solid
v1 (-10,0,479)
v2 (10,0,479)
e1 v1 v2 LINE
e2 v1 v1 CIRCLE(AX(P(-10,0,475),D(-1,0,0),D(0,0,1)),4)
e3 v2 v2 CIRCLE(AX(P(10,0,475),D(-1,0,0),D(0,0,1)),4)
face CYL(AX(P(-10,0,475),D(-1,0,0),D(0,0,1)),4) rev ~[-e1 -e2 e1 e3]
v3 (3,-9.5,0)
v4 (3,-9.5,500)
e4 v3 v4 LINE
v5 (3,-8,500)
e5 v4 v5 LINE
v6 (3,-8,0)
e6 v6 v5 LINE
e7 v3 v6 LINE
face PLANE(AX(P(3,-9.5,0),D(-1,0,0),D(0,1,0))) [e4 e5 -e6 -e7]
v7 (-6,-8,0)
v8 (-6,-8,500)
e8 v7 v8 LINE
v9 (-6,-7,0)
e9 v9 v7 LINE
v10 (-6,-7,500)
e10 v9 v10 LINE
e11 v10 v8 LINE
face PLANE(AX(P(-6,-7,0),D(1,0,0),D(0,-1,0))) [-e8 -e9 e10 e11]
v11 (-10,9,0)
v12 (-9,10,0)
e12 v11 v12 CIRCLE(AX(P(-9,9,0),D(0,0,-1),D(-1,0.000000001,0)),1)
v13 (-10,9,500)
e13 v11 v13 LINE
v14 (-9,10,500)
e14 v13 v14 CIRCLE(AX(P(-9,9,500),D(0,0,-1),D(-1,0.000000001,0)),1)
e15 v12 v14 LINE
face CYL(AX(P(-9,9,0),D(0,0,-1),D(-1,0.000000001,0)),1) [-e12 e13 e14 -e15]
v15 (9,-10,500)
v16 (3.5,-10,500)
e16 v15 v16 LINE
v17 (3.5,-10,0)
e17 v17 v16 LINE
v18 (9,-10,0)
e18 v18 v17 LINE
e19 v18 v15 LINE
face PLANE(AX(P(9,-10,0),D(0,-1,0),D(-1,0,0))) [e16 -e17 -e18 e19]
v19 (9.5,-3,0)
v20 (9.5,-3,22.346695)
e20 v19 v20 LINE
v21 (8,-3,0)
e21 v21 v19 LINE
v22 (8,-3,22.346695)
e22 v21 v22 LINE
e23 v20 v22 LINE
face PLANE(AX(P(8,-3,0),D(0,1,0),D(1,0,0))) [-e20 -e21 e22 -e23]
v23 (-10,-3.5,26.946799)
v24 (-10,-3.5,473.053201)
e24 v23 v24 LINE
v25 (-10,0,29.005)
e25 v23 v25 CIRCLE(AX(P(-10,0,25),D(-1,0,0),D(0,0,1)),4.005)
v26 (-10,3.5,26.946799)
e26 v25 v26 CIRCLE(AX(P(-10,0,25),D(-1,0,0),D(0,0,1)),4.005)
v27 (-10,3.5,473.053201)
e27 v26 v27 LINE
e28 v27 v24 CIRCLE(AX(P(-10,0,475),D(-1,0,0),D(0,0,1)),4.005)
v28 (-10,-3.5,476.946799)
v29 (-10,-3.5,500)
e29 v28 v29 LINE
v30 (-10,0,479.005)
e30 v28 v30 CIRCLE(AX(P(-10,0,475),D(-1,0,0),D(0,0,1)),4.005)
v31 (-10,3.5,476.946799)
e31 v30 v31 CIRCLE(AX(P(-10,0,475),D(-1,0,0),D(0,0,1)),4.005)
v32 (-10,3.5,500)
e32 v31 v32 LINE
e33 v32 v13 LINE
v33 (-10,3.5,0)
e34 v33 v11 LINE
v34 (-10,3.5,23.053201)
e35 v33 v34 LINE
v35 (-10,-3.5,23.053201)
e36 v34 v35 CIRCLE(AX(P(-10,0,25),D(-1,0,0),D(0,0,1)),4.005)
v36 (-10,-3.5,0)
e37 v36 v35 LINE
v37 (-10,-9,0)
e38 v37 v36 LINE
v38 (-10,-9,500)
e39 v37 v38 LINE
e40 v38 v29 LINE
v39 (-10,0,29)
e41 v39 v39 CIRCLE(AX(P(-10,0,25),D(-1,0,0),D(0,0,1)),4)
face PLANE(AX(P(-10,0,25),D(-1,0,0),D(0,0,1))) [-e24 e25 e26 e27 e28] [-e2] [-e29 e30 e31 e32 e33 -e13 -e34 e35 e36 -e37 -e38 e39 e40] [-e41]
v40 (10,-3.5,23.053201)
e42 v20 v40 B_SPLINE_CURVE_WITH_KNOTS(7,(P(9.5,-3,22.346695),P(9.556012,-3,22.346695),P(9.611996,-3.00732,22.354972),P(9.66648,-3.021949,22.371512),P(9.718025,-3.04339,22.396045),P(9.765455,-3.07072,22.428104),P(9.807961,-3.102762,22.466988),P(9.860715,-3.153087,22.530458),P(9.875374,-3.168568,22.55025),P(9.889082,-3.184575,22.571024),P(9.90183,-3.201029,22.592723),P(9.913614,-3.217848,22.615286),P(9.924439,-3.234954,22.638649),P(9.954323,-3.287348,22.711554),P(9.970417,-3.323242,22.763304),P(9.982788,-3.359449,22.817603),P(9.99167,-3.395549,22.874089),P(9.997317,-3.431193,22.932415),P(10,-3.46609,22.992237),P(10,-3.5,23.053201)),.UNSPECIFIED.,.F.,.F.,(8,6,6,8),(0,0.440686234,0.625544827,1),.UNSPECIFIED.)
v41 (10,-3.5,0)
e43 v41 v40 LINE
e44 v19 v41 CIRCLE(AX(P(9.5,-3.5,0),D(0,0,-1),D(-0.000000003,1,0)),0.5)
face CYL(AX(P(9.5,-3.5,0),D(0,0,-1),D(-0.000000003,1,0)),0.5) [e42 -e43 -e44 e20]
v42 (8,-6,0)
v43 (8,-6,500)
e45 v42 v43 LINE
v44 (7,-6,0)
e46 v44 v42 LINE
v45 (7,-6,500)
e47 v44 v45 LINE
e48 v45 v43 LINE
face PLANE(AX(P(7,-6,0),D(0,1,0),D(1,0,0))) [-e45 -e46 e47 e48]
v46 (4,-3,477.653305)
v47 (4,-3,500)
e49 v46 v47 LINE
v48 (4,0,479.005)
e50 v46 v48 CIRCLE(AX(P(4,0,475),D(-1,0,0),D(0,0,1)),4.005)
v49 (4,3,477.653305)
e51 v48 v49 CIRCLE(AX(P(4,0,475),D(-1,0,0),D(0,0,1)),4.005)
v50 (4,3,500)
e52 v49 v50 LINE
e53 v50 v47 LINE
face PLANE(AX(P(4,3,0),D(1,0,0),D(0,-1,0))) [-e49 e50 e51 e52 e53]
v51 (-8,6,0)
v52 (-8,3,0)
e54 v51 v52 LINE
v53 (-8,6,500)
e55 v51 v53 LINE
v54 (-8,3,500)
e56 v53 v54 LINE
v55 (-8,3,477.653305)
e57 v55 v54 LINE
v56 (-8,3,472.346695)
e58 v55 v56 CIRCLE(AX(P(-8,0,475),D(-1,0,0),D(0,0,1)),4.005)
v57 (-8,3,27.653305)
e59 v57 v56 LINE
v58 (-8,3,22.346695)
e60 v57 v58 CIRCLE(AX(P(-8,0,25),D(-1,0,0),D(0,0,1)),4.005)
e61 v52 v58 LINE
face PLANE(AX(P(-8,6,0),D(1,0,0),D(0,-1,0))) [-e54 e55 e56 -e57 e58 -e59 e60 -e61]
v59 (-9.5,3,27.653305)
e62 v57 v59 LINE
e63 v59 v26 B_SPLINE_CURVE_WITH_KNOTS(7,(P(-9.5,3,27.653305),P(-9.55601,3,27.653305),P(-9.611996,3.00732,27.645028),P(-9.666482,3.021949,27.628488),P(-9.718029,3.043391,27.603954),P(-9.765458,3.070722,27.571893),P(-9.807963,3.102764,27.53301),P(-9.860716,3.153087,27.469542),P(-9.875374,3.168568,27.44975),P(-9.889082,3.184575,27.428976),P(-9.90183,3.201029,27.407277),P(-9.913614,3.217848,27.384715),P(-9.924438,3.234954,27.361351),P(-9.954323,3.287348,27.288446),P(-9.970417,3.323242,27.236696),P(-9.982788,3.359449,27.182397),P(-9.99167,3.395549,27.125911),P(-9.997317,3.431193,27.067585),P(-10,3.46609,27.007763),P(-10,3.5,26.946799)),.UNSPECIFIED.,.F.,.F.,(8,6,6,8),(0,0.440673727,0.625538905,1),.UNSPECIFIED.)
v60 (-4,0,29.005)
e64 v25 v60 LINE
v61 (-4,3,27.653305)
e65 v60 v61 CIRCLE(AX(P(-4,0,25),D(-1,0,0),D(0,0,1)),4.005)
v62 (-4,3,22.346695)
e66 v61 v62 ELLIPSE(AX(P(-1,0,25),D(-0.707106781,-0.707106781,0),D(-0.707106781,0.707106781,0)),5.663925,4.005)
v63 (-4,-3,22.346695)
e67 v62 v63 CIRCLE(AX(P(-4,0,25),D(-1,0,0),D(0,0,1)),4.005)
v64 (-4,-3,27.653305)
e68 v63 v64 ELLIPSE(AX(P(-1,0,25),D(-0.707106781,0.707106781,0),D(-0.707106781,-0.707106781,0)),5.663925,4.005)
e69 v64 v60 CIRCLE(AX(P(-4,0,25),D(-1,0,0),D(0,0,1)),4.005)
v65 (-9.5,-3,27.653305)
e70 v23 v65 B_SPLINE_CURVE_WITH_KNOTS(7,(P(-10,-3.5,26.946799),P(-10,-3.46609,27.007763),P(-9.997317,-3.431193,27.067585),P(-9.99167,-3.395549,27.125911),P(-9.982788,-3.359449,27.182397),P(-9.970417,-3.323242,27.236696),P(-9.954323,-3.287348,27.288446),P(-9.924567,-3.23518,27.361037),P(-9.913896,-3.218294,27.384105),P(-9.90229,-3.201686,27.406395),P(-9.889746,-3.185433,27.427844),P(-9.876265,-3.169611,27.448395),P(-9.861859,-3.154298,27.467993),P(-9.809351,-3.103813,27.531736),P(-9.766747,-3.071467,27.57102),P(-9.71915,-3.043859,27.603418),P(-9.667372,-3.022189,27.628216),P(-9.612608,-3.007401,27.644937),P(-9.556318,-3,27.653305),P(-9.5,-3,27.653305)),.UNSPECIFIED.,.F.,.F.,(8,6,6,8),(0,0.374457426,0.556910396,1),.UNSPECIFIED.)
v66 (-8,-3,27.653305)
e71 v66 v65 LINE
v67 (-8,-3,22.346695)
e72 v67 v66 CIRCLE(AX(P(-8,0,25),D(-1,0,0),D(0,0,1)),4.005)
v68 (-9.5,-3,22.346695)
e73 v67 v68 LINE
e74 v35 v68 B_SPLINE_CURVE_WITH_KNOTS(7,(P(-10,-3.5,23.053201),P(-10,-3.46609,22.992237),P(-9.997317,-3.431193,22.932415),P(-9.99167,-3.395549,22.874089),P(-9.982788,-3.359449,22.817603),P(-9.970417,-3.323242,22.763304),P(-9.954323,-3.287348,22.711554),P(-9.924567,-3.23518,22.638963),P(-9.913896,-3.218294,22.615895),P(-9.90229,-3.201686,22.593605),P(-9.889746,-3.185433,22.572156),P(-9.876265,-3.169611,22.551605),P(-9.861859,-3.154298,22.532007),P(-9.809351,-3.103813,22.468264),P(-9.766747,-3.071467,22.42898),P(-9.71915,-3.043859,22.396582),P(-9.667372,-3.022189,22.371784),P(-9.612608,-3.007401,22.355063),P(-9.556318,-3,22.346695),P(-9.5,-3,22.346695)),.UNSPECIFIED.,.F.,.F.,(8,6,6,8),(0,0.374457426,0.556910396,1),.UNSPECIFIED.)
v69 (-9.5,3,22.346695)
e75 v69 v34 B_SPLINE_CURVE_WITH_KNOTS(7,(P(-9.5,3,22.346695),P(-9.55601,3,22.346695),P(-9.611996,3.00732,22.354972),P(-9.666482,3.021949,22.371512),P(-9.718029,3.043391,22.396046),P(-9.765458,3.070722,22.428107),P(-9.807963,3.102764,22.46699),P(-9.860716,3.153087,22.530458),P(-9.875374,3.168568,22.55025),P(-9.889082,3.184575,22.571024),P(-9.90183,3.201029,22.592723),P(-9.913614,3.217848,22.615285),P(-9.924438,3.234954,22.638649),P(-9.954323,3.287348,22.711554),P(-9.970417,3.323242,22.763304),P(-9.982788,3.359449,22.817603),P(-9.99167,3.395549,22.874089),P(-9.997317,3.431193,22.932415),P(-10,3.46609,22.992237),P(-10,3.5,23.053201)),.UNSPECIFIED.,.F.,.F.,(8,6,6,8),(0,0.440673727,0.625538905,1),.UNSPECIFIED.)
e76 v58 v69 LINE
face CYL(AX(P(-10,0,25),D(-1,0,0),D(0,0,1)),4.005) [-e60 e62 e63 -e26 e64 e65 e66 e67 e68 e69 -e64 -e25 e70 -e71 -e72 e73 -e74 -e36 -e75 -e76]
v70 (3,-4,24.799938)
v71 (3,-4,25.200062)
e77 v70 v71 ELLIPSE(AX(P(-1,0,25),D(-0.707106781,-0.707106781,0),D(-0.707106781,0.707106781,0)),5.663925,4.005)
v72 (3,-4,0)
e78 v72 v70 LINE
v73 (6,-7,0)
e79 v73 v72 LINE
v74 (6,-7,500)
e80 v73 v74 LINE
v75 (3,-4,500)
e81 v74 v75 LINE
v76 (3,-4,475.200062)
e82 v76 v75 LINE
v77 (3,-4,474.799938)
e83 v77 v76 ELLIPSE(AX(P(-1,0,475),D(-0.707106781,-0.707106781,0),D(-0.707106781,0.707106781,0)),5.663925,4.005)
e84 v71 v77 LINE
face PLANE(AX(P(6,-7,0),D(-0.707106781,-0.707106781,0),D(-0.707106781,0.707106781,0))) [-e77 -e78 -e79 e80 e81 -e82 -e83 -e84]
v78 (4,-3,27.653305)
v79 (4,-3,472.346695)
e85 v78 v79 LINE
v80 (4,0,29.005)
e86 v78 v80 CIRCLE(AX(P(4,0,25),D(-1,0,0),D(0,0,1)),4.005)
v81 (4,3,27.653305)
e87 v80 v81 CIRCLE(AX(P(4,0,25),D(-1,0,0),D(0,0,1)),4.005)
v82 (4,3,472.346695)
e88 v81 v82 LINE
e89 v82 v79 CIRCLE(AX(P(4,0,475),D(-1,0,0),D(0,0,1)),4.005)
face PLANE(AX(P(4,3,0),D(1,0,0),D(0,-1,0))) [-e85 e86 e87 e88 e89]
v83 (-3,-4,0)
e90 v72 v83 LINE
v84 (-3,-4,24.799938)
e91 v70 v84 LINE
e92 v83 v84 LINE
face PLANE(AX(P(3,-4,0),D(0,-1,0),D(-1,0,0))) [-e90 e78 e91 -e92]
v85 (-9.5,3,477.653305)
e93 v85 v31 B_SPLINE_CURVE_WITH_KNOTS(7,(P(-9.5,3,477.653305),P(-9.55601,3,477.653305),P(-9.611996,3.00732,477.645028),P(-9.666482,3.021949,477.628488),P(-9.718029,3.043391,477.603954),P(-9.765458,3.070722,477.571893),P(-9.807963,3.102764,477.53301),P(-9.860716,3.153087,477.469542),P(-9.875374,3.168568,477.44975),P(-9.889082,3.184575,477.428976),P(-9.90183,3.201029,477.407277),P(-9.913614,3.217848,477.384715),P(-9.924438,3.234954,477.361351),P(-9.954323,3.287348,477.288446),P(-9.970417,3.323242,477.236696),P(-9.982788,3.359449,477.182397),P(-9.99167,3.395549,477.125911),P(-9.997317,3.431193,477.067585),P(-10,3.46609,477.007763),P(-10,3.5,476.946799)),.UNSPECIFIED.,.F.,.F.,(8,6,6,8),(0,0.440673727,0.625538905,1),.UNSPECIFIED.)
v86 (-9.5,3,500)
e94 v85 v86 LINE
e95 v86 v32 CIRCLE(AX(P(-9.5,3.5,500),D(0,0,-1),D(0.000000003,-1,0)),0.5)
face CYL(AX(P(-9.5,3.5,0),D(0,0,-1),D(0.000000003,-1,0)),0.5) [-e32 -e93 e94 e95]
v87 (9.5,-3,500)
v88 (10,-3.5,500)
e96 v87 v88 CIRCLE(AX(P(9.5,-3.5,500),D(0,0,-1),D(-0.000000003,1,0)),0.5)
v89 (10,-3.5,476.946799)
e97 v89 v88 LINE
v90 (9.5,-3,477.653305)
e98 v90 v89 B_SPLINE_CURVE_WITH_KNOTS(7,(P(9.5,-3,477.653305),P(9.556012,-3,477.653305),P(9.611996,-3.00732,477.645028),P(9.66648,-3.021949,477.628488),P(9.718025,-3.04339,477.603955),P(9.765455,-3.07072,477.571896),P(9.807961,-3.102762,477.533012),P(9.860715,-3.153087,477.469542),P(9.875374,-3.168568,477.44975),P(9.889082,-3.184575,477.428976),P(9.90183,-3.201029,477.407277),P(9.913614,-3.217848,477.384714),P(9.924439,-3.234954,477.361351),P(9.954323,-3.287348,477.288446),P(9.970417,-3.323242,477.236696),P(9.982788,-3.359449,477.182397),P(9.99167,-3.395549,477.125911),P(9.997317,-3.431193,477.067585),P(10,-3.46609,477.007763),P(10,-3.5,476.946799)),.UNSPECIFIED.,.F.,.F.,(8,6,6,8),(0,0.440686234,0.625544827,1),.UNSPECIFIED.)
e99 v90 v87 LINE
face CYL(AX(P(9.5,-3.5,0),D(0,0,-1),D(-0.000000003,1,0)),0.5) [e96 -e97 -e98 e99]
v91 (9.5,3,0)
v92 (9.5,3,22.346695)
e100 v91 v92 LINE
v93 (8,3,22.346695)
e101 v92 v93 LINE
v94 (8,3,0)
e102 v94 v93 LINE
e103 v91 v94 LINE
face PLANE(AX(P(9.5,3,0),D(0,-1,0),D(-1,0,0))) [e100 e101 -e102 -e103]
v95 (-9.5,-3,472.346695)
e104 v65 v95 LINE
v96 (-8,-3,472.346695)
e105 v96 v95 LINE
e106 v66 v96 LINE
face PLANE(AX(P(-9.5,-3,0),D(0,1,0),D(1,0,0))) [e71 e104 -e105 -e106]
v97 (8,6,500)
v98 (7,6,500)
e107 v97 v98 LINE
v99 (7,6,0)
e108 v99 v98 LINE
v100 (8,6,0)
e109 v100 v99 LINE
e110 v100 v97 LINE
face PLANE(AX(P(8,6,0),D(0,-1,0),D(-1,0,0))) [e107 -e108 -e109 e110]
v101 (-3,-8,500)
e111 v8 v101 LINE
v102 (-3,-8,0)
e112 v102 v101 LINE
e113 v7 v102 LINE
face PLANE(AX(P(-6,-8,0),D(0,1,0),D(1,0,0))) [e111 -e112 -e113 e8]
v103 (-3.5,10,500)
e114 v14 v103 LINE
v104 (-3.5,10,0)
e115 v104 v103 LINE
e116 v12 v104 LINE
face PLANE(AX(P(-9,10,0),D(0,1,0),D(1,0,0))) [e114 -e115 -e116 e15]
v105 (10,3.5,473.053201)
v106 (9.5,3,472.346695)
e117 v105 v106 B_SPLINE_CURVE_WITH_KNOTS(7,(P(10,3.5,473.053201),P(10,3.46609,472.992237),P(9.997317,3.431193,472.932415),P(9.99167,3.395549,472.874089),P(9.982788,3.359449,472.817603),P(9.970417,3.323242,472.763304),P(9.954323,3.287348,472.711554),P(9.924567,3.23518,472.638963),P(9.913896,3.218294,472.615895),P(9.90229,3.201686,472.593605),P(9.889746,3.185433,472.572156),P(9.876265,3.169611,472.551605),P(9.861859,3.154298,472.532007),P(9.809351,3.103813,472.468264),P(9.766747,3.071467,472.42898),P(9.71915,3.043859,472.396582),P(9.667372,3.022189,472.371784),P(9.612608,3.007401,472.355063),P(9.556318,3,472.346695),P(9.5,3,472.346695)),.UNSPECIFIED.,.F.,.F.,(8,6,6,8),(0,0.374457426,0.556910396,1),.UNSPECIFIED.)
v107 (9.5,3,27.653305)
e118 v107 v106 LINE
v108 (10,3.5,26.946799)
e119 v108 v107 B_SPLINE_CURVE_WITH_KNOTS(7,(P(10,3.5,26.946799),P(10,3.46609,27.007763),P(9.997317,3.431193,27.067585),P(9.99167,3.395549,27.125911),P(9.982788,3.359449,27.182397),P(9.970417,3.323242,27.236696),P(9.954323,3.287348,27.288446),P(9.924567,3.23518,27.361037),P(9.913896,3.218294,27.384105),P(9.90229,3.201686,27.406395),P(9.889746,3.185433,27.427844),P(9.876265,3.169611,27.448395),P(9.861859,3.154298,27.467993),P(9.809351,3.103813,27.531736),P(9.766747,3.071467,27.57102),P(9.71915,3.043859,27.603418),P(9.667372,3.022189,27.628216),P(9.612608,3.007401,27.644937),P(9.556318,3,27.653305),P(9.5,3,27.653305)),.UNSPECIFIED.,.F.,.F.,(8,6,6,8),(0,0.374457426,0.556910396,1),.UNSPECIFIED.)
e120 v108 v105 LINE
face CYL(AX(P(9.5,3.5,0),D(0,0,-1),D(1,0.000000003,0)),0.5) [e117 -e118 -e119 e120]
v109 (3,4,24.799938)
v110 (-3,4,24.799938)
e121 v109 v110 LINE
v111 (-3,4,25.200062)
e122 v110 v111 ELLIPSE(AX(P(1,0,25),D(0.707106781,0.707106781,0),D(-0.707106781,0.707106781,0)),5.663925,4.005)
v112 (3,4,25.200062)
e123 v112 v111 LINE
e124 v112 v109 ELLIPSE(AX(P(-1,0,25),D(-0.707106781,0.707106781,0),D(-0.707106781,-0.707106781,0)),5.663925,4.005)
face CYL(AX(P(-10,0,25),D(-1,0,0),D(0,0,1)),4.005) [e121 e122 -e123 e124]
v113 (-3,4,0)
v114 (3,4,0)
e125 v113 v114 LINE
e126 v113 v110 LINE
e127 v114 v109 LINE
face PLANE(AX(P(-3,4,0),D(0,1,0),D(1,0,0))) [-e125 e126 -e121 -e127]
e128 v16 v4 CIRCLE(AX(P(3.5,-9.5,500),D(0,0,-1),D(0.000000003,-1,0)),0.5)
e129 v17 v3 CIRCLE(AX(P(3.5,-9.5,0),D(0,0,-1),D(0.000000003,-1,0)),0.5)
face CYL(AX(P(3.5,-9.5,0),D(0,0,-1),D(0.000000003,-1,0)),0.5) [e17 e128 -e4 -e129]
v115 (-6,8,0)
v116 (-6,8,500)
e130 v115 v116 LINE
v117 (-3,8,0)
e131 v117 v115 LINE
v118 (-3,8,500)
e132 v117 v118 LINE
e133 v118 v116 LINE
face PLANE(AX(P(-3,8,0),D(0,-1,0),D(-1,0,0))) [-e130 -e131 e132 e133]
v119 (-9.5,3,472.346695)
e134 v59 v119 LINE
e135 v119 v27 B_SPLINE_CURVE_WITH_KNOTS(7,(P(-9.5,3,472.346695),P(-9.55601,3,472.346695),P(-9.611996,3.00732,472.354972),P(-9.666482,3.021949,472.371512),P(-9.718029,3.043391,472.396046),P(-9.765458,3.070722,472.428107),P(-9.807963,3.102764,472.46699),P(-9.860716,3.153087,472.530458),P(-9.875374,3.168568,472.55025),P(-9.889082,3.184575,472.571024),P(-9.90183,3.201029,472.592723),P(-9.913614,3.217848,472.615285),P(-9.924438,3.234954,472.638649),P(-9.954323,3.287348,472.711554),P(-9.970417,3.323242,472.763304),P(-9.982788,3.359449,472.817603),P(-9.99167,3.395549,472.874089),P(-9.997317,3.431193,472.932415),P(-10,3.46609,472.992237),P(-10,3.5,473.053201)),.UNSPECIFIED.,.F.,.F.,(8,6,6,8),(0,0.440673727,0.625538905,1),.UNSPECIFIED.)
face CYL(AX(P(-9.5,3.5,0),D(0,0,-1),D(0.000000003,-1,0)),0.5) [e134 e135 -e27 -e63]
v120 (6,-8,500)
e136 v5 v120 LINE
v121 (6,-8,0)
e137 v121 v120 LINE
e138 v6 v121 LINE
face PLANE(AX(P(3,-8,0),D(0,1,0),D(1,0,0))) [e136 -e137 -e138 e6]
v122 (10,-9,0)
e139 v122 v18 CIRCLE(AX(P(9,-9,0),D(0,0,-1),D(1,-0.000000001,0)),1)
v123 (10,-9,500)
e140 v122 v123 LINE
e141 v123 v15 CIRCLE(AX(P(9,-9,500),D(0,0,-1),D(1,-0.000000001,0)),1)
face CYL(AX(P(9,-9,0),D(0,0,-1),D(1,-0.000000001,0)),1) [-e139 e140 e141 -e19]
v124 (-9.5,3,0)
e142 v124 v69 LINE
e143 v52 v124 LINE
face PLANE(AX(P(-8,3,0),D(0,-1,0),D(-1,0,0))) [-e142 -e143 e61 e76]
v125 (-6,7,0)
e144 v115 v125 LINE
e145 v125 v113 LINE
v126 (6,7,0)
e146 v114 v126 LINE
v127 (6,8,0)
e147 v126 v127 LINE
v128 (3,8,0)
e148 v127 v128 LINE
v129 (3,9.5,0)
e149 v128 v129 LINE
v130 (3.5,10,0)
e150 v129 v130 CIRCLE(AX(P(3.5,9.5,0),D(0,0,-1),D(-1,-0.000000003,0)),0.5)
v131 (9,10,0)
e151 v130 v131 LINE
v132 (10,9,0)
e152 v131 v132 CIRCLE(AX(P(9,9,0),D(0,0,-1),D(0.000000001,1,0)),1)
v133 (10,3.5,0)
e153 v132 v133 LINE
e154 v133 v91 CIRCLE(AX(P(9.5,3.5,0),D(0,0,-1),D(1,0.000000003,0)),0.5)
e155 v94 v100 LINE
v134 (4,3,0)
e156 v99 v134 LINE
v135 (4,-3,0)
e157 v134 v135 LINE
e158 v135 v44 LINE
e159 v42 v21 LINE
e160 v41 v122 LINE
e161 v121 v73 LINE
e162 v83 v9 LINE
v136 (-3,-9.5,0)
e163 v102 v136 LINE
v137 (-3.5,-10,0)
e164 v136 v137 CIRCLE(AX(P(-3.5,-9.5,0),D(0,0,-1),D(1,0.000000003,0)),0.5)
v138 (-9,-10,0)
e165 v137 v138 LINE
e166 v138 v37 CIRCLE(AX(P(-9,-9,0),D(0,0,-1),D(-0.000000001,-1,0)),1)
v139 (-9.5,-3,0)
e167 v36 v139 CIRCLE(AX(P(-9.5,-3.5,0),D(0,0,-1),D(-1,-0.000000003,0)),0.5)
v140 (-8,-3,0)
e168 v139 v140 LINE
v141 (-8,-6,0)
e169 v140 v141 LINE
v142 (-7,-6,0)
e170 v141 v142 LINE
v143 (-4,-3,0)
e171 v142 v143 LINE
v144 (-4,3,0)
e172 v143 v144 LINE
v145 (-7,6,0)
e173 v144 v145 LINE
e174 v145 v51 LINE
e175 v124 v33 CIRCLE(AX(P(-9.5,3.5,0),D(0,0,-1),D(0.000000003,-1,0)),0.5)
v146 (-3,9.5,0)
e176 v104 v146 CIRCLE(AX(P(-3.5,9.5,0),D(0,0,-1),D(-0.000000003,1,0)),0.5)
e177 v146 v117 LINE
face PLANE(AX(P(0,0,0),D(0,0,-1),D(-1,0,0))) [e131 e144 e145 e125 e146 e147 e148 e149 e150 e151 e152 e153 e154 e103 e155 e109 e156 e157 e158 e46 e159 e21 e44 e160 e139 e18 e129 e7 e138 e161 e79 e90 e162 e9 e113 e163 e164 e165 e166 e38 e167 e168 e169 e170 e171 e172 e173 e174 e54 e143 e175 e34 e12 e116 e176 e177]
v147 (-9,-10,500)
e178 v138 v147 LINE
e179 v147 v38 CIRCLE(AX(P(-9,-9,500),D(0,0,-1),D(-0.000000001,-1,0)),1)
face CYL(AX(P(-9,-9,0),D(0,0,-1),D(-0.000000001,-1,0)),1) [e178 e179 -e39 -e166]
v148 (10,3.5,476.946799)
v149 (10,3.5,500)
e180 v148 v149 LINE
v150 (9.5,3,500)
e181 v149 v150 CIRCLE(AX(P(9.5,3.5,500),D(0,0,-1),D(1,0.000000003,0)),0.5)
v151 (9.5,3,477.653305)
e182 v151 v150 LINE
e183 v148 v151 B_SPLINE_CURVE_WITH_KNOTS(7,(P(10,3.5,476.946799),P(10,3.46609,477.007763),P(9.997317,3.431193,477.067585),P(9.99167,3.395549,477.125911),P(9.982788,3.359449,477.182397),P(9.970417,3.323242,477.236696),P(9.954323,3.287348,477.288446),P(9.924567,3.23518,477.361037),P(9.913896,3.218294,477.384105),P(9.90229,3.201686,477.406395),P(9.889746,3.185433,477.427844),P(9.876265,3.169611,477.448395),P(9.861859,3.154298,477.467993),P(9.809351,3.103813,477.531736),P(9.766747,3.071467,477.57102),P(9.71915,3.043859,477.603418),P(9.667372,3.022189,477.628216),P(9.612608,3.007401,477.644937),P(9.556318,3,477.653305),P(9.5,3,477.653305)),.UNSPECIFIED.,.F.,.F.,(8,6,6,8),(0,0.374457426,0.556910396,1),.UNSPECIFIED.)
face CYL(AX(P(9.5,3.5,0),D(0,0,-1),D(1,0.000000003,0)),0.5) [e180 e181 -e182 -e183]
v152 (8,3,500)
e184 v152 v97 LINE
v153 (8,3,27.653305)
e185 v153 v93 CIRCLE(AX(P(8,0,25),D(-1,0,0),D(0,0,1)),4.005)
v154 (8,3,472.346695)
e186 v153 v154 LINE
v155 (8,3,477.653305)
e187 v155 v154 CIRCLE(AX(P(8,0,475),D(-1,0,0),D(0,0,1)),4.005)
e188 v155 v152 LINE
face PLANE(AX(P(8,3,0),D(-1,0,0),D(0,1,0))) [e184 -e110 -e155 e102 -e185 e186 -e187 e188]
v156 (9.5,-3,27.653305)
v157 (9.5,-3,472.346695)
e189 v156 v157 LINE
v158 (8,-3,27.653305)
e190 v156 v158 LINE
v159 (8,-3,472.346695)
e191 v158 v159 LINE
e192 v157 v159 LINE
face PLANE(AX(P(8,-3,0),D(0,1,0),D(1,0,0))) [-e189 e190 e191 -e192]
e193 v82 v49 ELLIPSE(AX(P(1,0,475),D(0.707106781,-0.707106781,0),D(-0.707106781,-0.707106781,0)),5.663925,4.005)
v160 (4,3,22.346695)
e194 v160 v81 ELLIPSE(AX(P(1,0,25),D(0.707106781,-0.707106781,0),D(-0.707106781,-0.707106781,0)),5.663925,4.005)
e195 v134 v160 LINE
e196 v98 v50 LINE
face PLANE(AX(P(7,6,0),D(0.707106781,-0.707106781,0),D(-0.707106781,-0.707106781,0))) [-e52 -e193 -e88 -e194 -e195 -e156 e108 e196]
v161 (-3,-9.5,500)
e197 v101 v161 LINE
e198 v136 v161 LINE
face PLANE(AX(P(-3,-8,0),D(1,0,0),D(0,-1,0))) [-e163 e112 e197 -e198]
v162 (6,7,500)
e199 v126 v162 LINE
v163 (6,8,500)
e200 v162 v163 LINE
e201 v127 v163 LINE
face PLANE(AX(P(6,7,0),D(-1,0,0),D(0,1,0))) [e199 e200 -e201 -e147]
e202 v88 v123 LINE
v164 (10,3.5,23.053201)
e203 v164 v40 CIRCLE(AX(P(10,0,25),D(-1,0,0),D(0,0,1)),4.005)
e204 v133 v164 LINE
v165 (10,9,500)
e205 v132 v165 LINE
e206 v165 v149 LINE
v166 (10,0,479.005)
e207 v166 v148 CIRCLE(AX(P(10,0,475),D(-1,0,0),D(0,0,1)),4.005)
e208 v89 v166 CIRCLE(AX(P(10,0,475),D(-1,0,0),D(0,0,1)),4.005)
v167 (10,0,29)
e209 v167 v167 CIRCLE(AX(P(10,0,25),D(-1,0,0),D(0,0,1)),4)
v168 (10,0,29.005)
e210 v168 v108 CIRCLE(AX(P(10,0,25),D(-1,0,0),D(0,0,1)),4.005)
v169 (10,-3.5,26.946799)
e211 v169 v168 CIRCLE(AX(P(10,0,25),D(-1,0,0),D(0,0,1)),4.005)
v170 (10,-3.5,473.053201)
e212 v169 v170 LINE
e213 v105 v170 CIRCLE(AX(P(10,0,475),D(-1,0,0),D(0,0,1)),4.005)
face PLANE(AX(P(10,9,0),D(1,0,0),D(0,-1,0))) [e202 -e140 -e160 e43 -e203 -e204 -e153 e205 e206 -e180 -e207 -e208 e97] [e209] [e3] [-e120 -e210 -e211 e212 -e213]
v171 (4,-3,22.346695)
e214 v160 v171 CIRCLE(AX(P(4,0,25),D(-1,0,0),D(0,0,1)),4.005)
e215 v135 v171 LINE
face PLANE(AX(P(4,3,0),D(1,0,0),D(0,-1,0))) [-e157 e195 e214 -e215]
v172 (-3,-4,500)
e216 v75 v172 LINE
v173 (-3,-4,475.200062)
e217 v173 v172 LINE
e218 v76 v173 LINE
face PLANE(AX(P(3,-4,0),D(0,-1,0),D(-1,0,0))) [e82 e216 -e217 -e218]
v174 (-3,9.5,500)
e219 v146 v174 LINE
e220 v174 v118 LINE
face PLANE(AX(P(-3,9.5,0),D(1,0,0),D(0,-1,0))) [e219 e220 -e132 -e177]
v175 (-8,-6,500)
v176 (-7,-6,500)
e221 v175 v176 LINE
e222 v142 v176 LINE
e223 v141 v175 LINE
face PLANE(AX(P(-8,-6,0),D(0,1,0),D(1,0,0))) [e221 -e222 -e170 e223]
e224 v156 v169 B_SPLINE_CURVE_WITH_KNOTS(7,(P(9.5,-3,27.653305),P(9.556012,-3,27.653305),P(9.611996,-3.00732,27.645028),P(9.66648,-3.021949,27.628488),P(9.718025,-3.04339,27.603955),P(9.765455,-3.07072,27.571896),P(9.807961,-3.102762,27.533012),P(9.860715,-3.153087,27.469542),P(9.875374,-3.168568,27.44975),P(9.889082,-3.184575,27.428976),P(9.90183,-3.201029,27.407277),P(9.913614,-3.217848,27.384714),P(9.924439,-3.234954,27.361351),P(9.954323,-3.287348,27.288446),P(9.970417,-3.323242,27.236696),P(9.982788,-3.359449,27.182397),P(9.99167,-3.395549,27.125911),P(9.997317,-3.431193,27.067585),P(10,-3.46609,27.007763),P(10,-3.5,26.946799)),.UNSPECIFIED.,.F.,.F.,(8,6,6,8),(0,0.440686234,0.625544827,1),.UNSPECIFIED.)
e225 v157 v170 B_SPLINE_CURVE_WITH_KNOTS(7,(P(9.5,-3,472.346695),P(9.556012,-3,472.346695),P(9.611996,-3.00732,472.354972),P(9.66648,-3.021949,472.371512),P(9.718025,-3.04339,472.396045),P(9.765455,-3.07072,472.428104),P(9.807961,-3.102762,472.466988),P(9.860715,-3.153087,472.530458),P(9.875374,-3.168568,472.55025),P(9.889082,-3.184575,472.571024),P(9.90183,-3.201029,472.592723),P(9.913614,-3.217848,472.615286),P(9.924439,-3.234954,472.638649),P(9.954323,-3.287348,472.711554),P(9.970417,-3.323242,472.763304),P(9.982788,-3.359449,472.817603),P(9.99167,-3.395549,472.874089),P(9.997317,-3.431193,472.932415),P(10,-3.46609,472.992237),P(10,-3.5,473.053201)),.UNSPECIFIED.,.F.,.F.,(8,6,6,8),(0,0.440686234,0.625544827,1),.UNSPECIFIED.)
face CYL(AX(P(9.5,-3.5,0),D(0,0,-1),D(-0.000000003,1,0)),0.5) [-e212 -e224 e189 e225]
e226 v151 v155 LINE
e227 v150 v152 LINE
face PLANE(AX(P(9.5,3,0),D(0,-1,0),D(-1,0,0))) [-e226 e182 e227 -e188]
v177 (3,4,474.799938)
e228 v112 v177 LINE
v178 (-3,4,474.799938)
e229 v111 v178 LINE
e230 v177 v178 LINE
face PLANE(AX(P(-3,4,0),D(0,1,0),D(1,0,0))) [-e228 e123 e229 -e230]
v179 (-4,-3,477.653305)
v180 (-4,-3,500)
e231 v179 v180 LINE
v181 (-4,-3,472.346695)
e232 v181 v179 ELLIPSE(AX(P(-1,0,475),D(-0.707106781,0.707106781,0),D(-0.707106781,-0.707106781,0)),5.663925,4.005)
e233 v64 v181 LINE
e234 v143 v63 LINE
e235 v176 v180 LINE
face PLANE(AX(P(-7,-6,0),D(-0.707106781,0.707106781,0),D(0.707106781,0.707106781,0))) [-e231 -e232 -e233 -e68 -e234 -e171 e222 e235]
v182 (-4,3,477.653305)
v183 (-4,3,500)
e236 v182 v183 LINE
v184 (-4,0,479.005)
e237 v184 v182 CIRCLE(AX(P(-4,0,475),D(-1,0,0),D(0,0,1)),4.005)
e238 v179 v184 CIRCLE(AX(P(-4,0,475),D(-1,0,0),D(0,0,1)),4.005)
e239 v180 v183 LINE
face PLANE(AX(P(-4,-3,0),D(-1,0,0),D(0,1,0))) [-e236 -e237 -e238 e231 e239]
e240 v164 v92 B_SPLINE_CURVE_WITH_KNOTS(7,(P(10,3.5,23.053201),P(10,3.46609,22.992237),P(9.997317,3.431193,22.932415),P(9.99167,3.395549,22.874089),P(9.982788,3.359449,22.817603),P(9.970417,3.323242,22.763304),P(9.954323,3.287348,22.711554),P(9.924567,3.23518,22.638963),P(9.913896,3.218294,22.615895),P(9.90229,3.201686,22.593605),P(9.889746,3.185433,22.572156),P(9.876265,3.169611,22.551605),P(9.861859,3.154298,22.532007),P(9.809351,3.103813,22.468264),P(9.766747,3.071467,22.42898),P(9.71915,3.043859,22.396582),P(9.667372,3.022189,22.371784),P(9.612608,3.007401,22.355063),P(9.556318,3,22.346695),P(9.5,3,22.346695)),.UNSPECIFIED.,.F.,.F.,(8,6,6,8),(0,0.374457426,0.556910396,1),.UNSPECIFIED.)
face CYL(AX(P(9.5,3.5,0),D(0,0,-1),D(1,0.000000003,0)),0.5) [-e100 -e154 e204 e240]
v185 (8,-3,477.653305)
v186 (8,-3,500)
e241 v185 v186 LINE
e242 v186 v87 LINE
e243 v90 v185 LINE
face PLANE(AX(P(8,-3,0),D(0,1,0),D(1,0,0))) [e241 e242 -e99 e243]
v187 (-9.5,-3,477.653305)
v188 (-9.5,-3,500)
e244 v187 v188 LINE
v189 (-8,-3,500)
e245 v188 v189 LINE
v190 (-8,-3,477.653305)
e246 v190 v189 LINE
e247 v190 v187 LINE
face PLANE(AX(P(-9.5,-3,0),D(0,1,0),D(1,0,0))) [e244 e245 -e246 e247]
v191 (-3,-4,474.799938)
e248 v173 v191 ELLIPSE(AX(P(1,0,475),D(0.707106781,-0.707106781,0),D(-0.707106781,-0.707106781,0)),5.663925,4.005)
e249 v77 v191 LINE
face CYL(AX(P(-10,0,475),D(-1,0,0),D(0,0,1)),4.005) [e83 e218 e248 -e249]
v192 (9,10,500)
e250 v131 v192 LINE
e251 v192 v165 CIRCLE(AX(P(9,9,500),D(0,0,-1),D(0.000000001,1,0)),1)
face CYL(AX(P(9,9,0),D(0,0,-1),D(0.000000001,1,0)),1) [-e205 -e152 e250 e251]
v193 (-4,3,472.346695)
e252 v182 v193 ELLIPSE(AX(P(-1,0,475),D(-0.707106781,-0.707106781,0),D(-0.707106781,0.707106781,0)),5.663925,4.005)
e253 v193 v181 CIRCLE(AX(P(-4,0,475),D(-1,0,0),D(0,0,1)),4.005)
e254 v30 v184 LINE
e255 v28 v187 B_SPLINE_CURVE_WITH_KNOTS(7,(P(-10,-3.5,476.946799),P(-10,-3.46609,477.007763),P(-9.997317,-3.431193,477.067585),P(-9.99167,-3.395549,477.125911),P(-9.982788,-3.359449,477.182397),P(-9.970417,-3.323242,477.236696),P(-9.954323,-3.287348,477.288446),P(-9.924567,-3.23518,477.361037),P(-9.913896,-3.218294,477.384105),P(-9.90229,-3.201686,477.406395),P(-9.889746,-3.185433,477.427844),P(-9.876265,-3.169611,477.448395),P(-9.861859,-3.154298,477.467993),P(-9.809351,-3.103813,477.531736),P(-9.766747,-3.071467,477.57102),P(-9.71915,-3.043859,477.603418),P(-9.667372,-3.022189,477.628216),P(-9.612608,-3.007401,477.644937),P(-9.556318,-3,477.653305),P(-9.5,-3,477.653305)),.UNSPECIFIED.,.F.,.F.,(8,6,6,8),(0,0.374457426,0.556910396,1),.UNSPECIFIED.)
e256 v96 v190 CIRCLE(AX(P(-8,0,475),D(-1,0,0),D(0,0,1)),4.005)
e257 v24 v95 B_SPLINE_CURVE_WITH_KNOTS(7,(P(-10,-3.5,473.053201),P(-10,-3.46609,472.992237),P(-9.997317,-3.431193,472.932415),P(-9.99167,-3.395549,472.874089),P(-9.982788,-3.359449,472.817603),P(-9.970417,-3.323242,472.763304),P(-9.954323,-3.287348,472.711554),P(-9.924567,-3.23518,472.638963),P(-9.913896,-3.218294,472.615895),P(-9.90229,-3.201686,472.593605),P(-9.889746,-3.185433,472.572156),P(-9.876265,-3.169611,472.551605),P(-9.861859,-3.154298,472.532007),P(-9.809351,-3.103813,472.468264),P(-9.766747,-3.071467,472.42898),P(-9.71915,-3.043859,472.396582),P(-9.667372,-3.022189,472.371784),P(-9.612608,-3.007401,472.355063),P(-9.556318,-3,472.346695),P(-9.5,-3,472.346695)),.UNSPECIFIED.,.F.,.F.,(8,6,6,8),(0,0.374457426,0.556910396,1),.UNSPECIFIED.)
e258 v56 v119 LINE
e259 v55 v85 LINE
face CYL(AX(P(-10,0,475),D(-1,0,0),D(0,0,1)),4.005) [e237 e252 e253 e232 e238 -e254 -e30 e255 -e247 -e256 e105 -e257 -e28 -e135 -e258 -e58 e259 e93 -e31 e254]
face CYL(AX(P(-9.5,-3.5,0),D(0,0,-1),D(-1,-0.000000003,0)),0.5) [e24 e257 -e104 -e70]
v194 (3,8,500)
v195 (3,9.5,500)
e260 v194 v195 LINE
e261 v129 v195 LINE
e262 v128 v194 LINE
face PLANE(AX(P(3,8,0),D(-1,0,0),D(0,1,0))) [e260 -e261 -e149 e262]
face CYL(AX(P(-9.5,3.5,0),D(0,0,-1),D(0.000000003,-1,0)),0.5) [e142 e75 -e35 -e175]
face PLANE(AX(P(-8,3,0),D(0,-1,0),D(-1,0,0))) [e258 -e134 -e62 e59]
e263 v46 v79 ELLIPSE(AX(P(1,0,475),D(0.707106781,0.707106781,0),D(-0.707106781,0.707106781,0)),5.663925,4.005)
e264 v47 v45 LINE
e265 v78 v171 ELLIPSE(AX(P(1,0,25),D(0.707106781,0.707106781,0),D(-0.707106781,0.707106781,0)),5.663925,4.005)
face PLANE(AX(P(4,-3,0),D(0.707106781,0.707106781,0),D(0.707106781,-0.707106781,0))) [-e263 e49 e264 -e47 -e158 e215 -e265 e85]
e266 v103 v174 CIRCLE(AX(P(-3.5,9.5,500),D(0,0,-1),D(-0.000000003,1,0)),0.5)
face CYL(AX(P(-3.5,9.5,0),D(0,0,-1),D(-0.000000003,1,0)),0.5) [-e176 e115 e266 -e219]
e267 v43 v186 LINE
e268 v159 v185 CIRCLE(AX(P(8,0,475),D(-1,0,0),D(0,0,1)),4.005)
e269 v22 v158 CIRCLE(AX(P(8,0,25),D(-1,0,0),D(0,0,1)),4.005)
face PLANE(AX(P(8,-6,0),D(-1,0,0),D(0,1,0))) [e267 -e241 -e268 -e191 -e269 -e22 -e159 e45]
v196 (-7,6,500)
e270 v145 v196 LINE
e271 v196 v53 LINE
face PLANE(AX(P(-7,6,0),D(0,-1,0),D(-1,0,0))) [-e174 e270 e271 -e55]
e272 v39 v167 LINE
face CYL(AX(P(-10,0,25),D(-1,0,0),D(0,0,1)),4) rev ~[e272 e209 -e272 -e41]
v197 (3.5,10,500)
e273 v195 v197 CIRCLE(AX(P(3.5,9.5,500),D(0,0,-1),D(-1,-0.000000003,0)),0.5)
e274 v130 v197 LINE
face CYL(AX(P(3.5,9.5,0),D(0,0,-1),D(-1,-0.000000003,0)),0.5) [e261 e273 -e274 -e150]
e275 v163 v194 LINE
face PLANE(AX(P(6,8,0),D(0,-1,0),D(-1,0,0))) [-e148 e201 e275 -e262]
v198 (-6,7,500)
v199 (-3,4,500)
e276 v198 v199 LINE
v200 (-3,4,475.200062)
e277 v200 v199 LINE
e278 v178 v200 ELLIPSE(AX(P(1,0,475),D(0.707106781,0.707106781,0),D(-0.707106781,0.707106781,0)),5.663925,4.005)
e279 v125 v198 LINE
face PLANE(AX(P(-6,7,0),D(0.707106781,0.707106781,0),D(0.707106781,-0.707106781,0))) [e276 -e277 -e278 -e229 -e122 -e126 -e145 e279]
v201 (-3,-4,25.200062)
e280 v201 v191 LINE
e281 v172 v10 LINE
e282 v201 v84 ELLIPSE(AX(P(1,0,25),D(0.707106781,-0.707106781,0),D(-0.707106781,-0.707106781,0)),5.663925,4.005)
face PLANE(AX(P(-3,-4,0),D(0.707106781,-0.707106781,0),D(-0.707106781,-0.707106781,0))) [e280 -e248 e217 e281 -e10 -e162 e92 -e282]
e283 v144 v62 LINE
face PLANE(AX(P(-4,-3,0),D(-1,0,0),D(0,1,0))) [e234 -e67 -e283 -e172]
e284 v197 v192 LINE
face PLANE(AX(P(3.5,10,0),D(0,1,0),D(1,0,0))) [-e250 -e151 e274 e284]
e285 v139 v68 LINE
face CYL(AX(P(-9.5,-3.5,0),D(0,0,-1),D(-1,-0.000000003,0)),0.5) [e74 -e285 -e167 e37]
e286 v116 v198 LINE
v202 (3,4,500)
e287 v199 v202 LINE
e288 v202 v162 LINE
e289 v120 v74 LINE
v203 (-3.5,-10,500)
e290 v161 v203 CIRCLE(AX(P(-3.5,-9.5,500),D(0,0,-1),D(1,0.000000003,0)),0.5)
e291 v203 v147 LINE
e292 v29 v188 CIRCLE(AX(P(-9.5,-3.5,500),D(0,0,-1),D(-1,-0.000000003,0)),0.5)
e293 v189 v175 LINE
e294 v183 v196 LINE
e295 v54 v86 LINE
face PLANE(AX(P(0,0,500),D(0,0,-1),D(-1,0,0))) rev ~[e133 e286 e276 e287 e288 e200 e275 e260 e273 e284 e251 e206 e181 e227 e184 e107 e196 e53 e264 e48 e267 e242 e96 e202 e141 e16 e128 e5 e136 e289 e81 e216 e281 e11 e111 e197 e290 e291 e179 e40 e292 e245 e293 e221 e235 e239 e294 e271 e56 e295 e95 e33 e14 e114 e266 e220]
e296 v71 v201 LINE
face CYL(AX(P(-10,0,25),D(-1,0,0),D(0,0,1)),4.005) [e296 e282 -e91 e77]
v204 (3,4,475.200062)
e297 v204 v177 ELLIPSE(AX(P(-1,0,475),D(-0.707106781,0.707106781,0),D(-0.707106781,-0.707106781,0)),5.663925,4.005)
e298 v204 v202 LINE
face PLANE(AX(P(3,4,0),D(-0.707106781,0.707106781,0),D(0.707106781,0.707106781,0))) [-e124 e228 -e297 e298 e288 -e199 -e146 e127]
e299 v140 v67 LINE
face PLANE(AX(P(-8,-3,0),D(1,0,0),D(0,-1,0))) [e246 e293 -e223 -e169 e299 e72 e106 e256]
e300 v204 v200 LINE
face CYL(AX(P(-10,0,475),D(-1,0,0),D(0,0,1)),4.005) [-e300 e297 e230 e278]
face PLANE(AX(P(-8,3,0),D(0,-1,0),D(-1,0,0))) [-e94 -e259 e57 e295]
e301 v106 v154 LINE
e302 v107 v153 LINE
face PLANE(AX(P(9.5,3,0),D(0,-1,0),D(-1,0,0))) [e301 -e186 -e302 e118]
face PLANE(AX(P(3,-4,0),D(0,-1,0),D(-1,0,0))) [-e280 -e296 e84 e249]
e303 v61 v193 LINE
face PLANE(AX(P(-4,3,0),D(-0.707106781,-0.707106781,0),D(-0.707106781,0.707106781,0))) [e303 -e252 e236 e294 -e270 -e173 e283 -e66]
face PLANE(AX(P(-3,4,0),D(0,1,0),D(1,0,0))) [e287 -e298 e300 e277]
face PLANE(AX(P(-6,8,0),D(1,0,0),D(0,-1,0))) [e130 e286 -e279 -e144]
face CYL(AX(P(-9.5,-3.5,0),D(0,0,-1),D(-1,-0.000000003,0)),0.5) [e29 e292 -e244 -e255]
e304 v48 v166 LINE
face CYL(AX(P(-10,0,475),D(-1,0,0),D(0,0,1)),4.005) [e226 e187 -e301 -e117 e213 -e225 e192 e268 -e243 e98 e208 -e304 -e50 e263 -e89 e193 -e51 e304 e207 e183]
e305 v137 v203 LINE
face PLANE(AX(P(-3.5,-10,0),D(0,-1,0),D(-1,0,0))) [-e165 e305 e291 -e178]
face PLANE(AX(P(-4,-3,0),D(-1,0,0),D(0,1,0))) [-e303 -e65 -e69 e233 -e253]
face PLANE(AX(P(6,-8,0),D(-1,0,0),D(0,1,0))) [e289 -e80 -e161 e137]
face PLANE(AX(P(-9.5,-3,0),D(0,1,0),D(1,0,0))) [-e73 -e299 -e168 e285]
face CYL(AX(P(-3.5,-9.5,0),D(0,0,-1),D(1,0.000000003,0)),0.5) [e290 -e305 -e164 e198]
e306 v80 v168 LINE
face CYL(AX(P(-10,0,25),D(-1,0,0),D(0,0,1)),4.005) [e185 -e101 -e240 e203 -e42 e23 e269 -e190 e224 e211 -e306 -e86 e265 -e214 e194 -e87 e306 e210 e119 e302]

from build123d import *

# Parameters (mm, degrees)
ESTRUSIONE_ESTRUSIONE1_DEPTH = 500
SCHIZZO2_R                   = 4.005
ESTRUSIONE_ESTRUSIONE4_DEPTH = 20
SCHIZZO6_R                   = 4
TAGLIO_ESTRUSIONE20_DEPTH    = 20


with BuildPart() as part:
    # Schizzo1 → Estrusione-Estrusione1 (new body)
    with BuildSketch(Plane.XY):
        with BuildLine():
            Line((-4, -3), (-4, 3))
            Line((-4, 3), (-7, 6))
            Line((-7, 6), (-8, 6))
            Line((-8, 6), (-8, 3))
            Line((-8, 3), (-9.5, 3))
            ThreePointArc((-9.5, 3), (-9.853553391, 3.146446609), (-10, 3.5))
            Line((-10, 3.5), (-10, 9))
            ThreePointArc((-10, 9), (-9.707106781, 9.707106781), (-9, 10))
            Line((-9, 10), (-3.5, 10))
            ThreePointArc((-3.5, 10), (-3.146446609, 9.853553391), (-3, 9.5))
            Line((-3, 9.5), (-3, 8))
            Line((-3, 8), (-6, 8))
            Line((-6, 8), (-6, 7))
            Line((-6, 7), (-3, 4))
            Line((-3, 4), (3, 4))
            Line((3, 4), (6, 7))
            Line((6, 7), (6, 8))
            Line((6, 8), (3, 8))
            Line((3, 8), (3, 9.5))
            ThreePointArc((3, 9.5), (3.146446609, 9.853553391), (3.5, 10))
            Line((3.5, 10), (9, 10))
            ThreePointArc((9, 10), (9.707106781, 9.707106781), (10, 9))
            Line((10, 9), (10, 3.5))
            ThreePointArc((10, 3.5), (9.853553391, 3.146446609), (9.5, 3))
            Line((9.5, 3), (8, 3))
            Line((8, 3), (8, 6))
            Line((8, 6), (7, 6))
            Line((7, 6), (4, 3))
            Line((4, 3), (4, -3))
            Line((4, -3), (7, -6))
            Line((7, -6), (8, -6))
            Line((8, -6), (8, -3))
            Line((8, -3), (9.5, -3))
            ThreePointArc((9.5, -3), (9.853553391, -3.146446609), (10, -3.5))
            Line((10, -3.5), (10, -9))
            ThreePointArc((10, -9), (9.707106781, -9.707106781), (9, -10))
            Line((9, -10), (3.5, -10))
            ThreePointArc((3.5, -10), (3.146446609, -9.853553391), (3, -9.5))
            Line((3, -9.5), (3, -8))
            Line((3, -8), (6, -8))
            Line((6, -8), (6, -7))
            Line((6, -7), (3, -4))
            Line((3, -4), (-3, -4))
            Line((-3, -4), (-6, -7))
            Line((-6, -7), (-6, -8))
            Line((-6, -8), (-3, -8))
            Line((-3, -8), (-3, -9.5))
            ThreePointArc((-3, -9.5), (-3.146446609, -9.853553391), (-3.5, -10))
            Line((-3.5, -10), (-9, -10))
            ThreePointArc((-9, -10), (-9.707106781, -9.707106781), (-10, -9))
            Line((-10, -9), (-10, -3.5))
            ThreePointArc((-10, -3.5), (-9.853553391, -3.146446609), (-9.5, -3))
            Line((-9.5, -3), (-8, -3))
            Line((-8, -3), (-8, -6))
            Line((-8, -6), (-7, -6))
            Line((-7, -6), (-4, -3))
        make_face()
    extrude(amount=ESTRUSIONE_ESTRUSIONE1_DEPTH)

    # Schizzo2 → Estrusione-Estrusione4 (add)
    with BuildSketch(Plane.ZY.offset(10)):
        with Locations((25, 0)):
            Circle(SCHIZZO2_R)
        with Locations((475, 0)):
            Circle(SCHIZZO2_R)
    extrude(amount=-ESTRUSIONE_ESTRUSIONE4_DEPTH)

    # Schizzo6 → Taglio-Estrusione20 (cut)
    with BuildSketch(Plane.ZY.offset(10)):
        with Locations((25, 0)):
            Circle(SCHIZZO6_R)
        with Locations((475, 0)):
            Circle(SCHIZZO6_R)
    extrude(amount=-TAGLIO_ESTRUSIONE20_DEPTH, mode=Mode.SUBTRACT)


solid = part.part
